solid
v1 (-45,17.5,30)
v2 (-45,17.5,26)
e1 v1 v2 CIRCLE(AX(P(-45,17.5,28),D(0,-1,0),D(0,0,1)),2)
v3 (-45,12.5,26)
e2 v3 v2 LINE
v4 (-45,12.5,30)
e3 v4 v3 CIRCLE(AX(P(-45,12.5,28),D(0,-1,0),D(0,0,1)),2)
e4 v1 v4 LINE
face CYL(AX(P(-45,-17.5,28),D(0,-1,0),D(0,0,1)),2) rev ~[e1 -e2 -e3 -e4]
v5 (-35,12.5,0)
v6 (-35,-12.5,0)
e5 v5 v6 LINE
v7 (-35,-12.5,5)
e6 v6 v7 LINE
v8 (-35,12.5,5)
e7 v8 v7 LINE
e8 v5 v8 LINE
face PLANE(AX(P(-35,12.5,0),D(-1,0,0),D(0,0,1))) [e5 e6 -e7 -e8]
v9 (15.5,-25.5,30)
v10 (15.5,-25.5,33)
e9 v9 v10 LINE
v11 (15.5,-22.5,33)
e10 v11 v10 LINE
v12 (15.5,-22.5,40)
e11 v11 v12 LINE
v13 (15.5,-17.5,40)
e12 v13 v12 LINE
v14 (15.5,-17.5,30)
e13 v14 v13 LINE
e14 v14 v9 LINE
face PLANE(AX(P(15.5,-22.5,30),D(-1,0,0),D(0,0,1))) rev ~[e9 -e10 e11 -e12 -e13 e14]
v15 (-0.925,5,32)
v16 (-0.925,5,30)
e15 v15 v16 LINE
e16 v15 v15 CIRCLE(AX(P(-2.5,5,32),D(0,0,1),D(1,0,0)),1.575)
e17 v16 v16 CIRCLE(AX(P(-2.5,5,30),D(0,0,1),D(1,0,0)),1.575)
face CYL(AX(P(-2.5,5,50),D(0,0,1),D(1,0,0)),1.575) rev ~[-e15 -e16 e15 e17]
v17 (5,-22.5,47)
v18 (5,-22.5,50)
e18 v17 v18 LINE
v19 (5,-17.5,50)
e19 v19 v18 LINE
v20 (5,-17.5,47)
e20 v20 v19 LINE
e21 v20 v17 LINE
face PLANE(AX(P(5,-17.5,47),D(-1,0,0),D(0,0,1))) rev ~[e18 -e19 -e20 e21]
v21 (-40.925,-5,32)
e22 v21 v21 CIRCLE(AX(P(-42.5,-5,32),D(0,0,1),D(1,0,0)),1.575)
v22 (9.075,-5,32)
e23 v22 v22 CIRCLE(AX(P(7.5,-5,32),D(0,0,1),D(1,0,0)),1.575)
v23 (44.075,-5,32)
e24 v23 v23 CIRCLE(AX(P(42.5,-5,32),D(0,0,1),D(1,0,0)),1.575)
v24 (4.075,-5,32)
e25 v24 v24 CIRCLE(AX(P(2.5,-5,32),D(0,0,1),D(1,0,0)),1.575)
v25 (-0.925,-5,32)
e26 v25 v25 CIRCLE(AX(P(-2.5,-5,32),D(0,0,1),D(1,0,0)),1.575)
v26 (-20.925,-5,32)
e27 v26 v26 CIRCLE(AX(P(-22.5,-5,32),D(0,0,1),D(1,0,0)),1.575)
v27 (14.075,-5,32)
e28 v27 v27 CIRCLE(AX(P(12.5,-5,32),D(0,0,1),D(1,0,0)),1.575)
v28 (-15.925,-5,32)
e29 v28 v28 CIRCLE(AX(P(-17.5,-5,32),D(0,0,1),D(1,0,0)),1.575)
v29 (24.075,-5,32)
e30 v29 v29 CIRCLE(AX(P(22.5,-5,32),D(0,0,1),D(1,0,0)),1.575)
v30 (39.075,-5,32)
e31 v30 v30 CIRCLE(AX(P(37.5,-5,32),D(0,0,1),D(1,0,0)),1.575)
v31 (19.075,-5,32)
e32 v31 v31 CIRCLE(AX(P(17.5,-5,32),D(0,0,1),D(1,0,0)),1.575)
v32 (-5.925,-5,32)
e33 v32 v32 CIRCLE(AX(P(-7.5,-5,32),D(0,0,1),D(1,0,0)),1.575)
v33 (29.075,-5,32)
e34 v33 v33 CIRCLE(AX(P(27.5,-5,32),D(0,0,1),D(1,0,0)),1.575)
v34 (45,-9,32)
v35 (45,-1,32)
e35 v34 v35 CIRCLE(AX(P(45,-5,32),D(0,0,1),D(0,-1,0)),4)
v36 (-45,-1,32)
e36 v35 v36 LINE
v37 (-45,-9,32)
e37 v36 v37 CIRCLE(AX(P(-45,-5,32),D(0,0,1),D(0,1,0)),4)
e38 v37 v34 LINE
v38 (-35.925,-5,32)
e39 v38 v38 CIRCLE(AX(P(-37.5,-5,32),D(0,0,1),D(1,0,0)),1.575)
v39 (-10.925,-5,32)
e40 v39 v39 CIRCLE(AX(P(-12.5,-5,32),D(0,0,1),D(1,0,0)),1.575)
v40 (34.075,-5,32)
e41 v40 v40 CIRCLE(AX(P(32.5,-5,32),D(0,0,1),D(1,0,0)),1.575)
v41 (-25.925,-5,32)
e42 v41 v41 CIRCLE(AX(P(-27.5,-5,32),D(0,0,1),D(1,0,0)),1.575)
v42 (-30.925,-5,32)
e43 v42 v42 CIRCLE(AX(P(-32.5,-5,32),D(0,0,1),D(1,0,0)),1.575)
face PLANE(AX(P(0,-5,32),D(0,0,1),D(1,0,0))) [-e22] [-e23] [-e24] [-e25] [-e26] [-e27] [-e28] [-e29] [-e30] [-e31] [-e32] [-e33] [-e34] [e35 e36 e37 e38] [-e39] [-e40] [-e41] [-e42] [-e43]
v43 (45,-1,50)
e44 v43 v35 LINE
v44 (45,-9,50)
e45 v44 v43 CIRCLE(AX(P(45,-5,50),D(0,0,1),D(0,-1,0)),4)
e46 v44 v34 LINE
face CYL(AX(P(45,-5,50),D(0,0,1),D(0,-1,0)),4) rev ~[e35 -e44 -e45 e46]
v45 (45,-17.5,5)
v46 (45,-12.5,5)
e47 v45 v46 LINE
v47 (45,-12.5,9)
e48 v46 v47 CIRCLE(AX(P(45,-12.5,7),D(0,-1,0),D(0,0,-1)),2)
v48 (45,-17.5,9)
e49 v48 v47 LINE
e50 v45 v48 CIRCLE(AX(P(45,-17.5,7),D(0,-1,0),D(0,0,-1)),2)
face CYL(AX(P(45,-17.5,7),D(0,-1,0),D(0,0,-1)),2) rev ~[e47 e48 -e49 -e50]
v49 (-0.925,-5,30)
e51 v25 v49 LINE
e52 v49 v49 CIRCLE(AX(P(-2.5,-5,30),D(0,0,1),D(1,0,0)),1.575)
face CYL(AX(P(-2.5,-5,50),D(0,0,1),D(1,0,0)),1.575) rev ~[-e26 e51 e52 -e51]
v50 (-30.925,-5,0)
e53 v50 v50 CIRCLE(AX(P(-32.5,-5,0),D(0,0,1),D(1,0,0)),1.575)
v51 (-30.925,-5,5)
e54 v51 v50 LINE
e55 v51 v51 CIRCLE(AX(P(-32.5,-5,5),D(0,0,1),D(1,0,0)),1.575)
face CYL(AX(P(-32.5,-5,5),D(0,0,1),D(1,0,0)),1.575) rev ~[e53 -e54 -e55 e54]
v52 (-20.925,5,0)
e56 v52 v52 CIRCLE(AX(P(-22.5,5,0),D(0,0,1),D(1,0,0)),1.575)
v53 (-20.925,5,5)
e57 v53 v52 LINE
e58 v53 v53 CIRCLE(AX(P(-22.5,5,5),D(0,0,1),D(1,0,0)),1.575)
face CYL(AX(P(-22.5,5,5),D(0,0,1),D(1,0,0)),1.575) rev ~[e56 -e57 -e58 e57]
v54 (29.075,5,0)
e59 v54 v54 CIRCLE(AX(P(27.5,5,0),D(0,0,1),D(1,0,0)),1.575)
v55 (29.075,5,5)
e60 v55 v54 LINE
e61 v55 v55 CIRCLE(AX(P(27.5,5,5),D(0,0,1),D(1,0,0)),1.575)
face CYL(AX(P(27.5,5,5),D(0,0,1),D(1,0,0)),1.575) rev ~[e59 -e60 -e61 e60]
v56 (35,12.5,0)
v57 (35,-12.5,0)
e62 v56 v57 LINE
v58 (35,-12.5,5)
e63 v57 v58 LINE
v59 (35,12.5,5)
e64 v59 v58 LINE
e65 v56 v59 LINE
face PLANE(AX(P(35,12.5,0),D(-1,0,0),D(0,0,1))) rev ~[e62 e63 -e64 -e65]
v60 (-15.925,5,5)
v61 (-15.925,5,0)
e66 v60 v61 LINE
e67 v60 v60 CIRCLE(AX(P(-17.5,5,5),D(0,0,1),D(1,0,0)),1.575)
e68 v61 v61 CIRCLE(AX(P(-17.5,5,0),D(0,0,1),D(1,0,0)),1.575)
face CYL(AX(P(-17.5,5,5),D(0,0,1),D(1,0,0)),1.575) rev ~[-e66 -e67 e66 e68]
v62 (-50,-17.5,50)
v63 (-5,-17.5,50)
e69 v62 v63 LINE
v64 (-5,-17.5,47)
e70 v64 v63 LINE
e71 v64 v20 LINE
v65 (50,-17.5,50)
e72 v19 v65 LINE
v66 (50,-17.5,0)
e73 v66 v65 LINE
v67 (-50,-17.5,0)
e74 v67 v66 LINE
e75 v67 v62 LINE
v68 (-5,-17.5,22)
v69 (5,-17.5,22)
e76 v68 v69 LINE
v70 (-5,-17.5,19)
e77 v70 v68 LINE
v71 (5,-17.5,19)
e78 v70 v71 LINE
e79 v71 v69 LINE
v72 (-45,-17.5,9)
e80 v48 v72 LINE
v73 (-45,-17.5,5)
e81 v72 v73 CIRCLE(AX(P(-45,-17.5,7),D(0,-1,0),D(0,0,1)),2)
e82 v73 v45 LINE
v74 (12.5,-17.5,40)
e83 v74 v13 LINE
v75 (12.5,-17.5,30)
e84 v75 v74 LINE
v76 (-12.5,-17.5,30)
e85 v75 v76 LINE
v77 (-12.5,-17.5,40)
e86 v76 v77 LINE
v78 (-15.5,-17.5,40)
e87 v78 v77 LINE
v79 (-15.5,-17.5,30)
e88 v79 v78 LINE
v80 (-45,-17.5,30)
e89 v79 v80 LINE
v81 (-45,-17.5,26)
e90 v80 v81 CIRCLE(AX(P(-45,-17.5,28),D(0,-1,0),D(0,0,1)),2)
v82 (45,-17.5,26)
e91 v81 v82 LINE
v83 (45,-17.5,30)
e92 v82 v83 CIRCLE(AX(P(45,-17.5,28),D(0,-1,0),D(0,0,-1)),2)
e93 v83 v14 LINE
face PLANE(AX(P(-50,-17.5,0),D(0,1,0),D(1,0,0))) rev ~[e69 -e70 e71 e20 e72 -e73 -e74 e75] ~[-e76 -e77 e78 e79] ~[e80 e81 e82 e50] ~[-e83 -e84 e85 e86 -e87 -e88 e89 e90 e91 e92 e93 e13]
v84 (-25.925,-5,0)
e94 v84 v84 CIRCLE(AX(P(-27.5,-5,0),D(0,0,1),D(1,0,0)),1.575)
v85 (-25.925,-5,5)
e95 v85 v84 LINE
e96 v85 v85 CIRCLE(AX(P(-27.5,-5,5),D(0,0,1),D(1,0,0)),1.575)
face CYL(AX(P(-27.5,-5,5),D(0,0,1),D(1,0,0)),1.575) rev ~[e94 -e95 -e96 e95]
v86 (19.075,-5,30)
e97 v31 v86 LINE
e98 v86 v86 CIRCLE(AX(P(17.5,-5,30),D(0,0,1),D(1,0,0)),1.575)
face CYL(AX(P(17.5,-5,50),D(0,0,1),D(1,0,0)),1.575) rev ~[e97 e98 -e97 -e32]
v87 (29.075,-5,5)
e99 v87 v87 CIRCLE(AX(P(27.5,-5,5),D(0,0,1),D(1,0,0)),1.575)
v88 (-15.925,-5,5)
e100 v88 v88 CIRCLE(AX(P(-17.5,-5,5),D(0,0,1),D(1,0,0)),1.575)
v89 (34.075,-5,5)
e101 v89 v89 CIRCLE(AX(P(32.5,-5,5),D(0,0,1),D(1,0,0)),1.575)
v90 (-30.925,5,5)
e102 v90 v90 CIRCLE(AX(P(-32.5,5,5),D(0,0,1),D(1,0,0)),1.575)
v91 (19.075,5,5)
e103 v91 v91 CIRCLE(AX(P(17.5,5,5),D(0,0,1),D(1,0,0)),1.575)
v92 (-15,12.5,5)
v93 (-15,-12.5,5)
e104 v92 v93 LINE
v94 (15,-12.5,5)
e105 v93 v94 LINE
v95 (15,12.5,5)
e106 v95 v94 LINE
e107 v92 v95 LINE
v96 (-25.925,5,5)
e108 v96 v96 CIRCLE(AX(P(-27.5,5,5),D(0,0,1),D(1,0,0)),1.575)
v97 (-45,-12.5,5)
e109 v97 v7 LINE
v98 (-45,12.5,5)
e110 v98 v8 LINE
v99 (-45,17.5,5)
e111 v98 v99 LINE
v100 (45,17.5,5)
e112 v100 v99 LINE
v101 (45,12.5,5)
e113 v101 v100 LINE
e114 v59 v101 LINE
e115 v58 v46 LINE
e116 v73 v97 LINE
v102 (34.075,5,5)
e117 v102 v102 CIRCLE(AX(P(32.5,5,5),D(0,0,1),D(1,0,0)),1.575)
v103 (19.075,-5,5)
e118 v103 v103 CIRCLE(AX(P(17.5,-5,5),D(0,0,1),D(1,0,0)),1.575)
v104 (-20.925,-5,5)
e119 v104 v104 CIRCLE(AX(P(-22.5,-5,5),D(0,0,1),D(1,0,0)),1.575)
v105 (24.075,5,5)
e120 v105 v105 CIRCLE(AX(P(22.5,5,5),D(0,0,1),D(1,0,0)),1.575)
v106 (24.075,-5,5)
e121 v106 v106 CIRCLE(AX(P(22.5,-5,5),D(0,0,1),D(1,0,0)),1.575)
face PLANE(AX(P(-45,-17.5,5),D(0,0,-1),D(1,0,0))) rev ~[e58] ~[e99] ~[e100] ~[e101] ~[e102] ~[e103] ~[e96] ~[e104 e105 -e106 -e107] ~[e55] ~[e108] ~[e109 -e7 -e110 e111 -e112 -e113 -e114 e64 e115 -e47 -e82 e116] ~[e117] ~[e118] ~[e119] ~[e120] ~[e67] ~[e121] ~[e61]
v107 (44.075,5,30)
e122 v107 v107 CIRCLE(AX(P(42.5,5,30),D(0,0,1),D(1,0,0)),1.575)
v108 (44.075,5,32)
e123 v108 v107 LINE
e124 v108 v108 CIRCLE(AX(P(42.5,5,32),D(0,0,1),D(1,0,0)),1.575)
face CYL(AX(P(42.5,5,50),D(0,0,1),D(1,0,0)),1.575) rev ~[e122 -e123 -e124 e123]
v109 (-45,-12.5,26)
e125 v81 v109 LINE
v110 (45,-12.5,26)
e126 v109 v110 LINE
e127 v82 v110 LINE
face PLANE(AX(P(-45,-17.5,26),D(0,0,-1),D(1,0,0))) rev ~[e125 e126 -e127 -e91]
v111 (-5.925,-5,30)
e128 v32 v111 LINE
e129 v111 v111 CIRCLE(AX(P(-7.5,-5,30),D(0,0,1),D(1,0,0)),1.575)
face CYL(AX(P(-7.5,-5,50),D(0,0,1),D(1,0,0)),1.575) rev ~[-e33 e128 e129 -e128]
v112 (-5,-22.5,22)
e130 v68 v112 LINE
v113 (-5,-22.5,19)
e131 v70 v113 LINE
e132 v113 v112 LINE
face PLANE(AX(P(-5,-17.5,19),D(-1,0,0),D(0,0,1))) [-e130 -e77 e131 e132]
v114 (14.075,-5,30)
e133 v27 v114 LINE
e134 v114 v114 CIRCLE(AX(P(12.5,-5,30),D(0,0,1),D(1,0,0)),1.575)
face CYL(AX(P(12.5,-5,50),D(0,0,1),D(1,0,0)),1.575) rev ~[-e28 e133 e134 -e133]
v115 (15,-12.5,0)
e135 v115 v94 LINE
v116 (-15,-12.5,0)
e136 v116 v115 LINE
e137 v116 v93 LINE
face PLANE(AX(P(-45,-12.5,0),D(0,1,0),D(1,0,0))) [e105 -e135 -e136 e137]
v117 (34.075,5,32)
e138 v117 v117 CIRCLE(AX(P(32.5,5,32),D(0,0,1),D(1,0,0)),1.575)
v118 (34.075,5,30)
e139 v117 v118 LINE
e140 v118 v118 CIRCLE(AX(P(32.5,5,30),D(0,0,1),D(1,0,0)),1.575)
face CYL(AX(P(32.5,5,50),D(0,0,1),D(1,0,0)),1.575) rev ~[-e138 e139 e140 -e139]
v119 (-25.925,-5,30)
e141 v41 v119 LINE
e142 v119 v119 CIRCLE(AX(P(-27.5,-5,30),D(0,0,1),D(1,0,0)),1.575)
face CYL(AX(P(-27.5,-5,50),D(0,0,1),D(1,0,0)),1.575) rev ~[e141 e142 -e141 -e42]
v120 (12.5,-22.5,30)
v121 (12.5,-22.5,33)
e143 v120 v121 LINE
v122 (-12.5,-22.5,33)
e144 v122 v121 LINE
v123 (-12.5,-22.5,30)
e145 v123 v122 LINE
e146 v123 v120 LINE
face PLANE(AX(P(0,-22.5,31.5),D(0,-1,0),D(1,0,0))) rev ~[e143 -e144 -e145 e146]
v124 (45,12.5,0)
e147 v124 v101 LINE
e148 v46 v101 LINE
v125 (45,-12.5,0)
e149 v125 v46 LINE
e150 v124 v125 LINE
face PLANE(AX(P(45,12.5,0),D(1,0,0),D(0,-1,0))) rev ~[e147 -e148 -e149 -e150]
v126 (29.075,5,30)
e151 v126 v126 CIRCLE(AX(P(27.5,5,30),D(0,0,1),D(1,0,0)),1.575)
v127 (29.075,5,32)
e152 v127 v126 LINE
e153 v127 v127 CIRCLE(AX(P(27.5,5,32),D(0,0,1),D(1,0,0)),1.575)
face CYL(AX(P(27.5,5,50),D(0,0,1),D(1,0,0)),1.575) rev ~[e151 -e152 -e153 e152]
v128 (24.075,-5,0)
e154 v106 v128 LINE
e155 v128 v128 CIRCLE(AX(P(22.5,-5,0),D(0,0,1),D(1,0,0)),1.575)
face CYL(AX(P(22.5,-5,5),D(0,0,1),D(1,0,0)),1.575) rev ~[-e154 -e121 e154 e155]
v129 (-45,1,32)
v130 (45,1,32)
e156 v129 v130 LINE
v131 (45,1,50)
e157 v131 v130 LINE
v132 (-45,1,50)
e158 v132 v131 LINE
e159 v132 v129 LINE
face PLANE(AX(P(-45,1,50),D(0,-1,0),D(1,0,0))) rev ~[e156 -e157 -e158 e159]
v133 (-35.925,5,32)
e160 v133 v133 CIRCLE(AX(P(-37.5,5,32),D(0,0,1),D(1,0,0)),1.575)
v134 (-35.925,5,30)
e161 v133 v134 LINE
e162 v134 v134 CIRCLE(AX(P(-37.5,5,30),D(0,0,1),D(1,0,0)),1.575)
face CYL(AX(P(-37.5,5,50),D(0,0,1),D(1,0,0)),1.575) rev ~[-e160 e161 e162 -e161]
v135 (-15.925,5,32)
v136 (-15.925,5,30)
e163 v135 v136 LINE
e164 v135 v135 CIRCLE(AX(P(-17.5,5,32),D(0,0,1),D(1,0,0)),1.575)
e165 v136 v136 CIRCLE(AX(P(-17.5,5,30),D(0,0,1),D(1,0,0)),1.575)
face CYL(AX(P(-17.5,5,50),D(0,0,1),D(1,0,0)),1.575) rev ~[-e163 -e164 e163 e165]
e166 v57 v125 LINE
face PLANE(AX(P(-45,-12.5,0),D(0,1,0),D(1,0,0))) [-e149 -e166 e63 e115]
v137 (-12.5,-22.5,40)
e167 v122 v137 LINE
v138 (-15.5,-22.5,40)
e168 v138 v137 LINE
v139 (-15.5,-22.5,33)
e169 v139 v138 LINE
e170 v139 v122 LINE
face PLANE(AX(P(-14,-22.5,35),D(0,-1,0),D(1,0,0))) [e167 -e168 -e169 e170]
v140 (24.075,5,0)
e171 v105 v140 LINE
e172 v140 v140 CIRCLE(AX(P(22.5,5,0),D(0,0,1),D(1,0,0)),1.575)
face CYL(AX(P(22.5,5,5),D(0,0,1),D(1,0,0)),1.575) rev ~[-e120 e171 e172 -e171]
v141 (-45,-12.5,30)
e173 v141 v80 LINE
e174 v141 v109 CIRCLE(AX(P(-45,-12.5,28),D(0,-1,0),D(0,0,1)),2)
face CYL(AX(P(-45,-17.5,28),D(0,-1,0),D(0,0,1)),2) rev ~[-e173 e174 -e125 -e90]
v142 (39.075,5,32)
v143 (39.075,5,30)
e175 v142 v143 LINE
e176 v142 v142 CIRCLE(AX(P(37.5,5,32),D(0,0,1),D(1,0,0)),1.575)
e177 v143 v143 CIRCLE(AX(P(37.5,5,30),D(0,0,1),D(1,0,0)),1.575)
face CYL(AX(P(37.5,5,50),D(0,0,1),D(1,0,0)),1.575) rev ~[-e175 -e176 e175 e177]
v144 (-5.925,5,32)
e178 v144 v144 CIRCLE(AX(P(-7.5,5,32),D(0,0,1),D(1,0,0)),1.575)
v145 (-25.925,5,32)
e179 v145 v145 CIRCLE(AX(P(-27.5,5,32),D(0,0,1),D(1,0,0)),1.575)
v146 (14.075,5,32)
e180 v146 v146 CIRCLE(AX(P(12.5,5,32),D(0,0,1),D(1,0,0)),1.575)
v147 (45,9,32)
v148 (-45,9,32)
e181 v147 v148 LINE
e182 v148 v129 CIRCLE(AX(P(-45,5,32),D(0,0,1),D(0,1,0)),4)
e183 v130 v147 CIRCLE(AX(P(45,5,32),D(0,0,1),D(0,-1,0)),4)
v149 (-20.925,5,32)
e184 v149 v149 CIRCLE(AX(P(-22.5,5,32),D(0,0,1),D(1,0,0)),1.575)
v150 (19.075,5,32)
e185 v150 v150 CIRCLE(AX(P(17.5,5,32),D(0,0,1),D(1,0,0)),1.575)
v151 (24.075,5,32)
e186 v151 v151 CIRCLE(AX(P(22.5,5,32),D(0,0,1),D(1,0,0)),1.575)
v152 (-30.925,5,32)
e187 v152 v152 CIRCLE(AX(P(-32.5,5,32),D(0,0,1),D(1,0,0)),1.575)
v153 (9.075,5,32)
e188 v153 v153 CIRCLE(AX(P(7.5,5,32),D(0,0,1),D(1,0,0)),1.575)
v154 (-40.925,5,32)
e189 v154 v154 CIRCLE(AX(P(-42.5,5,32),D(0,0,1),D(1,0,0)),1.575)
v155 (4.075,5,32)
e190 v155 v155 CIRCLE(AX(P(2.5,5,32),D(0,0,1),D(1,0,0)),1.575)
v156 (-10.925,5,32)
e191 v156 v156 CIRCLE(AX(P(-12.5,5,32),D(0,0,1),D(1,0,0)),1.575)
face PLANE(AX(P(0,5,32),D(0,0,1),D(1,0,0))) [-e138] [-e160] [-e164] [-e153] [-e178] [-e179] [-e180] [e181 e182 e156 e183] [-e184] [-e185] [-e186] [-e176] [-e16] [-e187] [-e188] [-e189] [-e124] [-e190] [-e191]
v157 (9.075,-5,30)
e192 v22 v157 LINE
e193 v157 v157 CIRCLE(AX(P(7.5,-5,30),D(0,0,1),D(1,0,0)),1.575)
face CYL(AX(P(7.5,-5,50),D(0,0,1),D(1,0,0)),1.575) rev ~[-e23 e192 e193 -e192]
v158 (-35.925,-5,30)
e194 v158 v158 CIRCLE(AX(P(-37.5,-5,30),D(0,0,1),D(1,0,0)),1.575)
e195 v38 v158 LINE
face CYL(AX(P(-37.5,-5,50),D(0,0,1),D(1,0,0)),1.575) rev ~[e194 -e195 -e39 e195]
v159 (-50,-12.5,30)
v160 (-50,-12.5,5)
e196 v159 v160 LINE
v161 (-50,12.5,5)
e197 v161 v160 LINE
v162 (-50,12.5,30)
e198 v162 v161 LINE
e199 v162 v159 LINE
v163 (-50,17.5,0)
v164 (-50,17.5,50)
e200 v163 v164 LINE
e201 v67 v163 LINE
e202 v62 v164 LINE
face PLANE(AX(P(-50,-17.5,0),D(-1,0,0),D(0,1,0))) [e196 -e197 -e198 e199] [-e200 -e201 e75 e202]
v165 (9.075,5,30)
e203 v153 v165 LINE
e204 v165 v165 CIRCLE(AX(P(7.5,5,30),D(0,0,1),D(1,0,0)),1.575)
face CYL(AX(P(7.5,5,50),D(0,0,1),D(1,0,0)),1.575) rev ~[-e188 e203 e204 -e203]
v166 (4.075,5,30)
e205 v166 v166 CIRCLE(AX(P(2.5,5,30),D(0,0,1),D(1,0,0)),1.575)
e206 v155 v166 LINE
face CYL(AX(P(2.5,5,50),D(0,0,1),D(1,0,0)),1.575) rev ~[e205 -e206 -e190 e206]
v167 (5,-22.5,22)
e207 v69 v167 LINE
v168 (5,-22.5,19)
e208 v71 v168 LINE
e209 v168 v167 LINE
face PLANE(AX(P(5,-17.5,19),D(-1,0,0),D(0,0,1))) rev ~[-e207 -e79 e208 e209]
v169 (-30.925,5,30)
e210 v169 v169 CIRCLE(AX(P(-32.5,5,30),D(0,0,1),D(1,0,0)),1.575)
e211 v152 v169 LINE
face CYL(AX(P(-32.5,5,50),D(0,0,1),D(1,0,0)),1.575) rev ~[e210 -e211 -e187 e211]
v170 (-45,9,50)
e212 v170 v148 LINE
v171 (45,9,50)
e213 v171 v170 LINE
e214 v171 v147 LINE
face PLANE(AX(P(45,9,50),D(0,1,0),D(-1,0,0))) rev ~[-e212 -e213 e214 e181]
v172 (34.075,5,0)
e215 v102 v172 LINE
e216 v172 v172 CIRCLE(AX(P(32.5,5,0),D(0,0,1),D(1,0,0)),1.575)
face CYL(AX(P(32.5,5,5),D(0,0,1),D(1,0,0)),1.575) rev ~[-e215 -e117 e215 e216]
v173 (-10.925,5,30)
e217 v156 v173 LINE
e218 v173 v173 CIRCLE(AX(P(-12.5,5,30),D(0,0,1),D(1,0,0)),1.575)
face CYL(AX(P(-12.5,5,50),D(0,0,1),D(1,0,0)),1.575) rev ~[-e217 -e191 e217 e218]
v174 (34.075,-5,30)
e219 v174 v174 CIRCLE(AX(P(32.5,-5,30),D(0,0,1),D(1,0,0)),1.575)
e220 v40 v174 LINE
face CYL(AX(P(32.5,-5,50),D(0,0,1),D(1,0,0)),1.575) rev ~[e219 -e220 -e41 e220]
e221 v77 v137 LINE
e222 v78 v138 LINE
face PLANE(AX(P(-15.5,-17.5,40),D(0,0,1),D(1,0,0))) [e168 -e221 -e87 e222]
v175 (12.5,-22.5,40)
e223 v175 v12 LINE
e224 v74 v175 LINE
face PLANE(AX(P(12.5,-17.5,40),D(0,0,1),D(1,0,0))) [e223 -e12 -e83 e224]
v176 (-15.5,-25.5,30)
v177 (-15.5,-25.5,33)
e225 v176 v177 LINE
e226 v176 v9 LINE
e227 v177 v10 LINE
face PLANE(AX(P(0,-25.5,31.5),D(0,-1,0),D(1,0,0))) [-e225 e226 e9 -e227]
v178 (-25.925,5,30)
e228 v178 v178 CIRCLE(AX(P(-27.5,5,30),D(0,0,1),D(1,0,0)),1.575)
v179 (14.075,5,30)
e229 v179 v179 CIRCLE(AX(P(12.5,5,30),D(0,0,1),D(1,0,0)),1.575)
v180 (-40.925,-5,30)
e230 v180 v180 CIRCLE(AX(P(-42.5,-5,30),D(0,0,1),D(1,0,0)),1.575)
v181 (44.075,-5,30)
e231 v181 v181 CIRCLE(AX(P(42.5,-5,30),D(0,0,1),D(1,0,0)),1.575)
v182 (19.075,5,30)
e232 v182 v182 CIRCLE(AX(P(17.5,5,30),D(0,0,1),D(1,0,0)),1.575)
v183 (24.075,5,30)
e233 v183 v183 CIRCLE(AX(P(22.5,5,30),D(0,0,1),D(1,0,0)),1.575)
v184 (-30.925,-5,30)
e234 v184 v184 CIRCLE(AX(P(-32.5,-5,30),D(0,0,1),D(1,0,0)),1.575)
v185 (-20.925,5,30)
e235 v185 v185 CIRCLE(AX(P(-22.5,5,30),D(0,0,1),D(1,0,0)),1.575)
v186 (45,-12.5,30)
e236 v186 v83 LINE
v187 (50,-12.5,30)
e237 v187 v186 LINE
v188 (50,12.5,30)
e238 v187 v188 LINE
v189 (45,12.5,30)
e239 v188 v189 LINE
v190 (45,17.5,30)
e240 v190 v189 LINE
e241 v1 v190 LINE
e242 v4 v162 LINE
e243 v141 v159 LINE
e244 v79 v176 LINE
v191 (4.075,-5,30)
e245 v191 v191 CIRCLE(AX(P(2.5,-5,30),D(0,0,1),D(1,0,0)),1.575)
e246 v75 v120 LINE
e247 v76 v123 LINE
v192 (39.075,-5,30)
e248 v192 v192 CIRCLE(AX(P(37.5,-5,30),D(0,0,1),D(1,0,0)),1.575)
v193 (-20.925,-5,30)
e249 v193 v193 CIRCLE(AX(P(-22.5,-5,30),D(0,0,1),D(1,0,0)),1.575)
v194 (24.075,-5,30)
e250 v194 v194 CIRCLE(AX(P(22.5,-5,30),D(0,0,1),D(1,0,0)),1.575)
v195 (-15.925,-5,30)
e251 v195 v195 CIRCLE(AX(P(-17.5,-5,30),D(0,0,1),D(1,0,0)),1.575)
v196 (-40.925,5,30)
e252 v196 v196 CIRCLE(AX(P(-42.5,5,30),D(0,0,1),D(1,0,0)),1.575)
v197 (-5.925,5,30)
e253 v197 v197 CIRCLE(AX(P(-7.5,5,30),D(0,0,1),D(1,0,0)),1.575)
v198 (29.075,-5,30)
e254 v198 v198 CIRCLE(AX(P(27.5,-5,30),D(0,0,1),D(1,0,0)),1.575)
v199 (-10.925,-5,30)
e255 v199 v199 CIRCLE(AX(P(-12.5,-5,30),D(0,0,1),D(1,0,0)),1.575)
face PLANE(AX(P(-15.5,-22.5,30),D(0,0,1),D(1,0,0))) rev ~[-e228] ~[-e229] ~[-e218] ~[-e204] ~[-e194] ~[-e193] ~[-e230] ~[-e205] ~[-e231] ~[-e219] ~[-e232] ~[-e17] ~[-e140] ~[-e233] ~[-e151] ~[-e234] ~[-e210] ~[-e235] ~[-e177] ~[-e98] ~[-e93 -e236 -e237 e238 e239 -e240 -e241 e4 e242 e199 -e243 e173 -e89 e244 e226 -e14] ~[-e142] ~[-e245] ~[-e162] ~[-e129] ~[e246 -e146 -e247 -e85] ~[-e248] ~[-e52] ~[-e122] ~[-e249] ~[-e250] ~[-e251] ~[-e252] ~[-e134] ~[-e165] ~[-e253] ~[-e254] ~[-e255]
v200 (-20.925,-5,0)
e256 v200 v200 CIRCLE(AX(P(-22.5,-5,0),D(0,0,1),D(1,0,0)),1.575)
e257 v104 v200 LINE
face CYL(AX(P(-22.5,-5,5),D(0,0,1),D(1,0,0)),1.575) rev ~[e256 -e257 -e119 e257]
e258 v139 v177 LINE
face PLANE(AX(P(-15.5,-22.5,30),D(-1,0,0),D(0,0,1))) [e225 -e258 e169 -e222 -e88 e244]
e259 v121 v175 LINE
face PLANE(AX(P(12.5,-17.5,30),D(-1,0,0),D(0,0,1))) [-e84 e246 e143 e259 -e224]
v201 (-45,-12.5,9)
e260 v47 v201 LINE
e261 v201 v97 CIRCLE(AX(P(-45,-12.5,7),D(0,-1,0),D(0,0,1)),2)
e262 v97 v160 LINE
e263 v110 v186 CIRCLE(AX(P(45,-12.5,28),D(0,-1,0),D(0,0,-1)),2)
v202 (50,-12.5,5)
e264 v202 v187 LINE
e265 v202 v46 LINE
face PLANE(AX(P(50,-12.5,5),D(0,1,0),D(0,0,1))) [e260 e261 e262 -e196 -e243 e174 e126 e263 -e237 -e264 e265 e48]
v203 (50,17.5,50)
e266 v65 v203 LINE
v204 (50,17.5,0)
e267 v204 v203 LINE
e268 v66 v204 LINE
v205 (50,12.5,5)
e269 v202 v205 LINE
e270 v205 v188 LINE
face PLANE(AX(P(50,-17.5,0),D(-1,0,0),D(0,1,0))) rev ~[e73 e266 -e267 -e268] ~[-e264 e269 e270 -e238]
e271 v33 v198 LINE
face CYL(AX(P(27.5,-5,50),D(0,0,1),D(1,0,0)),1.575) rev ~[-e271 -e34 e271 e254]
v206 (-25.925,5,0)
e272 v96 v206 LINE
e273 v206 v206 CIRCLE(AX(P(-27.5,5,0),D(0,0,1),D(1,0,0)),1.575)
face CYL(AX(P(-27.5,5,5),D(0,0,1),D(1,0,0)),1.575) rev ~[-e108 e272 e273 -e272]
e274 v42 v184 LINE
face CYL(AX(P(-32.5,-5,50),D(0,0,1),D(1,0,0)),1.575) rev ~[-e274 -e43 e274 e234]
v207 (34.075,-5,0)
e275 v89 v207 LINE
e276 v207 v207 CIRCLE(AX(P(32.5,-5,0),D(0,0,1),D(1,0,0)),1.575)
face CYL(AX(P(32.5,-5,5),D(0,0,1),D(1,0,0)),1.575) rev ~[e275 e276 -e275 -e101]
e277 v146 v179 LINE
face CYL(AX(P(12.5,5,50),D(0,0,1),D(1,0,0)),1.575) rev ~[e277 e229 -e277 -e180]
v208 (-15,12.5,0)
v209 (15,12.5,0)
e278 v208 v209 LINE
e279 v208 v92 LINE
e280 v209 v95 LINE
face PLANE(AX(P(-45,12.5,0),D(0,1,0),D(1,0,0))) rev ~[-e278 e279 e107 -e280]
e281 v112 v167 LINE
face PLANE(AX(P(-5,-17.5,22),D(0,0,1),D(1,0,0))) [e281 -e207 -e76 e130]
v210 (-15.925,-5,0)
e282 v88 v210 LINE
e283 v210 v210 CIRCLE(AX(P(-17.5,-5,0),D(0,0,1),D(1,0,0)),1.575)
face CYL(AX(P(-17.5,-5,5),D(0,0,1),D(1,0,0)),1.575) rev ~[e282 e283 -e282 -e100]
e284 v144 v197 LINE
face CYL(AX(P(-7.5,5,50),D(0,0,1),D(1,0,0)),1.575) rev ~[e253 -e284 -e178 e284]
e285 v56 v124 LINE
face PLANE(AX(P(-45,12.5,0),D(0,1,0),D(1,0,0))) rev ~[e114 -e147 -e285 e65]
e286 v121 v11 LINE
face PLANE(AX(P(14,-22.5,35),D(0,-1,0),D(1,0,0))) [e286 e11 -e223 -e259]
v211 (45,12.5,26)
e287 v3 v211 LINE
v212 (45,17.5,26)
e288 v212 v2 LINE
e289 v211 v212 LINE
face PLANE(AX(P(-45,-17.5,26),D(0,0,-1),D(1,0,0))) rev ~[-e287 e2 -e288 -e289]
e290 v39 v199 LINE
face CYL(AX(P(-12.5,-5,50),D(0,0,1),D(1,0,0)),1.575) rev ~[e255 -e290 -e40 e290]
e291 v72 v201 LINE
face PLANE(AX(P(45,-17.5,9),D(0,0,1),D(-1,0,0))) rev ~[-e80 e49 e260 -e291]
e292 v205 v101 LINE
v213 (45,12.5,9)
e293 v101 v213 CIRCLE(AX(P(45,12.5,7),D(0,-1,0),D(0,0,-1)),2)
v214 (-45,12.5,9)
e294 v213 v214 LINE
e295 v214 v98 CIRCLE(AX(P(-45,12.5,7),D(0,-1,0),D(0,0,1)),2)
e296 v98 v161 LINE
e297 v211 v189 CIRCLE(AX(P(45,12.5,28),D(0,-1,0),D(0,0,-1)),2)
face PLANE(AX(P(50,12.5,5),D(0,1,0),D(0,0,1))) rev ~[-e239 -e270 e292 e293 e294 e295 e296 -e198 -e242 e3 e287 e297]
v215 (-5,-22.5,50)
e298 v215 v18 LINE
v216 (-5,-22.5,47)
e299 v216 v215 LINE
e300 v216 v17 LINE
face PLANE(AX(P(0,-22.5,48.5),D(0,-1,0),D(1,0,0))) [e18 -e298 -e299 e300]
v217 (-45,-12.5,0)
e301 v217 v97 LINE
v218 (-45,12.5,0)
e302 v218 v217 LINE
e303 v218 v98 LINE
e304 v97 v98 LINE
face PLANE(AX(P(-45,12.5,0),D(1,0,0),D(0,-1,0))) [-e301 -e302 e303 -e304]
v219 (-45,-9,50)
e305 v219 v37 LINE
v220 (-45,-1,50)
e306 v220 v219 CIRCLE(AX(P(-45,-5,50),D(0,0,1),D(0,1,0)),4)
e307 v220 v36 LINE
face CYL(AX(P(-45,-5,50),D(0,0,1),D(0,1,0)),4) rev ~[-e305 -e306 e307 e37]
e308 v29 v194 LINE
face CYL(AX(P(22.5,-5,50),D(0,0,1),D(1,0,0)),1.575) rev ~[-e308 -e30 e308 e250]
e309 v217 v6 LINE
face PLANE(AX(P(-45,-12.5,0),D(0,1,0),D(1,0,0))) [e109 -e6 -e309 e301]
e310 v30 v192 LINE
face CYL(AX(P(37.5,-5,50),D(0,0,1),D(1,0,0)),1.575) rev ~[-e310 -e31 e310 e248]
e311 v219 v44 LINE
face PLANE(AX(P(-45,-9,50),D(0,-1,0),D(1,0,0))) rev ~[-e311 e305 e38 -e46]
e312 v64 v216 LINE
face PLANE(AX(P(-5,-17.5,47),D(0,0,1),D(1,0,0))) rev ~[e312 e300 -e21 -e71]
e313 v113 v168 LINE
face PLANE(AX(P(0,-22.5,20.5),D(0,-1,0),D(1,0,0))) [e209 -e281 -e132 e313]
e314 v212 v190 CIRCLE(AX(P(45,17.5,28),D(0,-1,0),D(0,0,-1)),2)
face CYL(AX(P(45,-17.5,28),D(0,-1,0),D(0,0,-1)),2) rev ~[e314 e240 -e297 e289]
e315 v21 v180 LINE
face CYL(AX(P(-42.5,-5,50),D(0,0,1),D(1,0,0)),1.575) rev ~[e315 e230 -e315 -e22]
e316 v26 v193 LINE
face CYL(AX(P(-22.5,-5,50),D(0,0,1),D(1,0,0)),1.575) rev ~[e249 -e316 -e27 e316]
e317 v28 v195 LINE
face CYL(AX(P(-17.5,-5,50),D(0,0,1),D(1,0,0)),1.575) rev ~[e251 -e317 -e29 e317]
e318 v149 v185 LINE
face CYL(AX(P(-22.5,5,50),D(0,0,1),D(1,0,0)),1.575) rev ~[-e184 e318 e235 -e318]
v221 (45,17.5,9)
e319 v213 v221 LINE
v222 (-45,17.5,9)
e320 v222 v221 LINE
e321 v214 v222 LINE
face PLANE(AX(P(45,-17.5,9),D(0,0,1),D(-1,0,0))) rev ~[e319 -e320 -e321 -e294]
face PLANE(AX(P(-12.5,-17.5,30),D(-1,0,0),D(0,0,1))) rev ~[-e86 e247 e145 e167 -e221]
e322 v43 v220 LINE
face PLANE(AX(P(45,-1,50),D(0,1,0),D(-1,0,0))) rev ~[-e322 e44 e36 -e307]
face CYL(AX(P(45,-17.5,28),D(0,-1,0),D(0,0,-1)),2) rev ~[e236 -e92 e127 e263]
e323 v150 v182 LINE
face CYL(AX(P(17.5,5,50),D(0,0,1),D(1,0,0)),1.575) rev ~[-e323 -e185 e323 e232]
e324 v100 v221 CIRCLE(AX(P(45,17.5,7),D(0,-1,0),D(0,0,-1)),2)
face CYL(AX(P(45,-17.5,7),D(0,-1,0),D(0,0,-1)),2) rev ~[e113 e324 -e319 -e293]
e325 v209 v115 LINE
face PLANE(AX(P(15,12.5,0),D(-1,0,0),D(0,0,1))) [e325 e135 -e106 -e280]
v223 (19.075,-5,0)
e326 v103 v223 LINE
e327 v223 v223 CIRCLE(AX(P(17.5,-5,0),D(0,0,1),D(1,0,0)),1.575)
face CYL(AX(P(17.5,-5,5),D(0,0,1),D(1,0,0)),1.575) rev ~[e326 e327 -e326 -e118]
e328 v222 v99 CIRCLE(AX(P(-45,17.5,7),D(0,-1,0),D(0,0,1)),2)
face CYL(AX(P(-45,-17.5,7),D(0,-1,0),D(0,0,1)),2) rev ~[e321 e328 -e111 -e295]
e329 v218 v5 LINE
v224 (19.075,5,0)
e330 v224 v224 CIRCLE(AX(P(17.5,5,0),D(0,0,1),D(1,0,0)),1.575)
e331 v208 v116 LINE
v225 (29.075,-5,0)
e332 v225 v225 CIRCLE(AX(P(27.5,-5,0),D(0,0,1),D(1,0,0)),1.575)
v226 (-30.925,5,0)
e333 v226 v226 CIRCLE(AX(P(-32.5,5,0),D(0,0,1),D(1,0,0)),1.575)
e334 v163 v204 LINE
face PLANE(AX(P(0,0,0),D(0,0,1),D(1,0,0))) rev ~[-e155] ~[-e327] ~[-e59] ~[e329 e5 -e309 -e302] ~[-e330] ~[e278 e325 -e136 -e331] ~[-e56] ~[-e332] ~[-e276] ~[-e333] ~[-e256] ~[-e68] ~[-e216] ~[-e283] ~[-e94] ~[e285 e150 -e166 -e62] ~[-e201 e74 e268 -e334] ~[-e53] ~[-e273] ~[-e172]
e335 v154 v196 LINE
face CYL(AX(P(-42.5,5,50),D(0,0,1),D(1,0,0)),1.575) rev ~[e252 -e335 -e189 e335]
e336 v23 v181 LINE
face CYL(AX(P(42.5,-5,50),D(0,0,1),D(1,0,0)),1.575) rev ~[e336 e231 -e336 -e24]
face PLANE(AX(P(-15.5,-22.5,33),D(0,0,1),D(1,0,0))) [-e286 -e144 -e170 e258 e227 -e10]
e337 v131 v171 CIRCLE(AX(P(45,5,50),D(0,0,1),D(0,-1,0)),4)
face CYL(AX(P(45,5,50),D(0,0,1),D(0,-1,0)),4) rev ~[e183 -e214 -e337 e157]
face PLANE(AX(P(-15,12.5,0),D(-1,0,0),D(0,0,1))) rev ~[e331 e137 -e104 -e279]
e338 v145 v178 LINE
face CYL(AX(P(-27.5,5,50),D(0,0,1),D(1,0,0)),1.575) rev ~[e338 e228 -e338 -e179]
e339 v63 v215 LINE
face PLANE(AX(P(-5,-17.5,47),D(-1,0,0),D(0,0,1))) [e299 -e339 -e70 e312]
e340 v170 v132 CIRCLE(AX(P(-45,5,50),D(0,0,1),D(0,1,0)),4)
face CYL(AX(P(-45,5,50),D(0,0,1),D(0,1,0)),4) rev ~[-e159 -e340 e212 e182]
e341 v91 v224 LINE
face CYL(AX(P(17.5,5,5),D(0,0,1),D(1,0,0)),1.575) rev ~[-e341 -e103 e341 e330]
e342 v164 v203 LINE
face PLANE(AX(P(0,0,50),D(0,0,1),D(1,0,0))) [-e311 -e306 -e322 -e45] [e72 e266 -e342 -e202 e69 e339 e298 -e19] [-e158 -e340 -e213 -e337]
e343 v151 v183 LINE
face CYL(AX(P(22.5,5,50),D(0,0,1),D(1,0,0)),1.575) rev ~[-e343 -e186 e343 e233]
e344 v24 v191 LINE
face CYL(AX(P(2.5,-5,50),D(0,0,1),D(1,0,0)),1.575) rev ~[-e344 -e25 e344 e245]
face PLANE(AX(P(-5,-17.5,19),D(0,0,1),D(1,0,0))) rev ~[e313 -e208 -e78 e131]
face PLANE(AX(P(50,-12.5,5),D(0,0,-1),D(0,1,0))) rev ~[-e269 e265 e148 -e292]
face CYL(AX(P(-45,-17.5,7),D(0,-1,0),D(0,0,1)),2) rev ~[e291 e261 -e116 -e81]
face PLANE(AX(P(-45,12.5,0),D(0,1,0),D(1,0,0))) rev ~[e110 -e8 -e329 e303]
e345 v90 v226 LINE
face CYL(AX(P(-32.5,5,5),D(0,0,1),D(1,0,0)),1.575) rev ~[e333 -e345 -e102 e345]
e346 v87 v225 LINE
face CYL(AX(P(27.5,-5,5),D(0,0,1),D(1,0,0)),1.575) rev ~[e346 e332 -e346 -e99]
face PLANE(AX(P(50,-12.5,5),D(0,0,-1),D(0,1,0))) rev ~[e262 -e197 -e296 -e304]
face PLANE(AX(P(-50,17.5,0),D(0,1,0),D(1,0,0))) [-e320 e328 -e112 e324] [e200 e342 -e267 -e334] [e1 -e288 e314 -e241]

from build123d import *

# Parameters (mm, degrees)
F0_W      = 100
F0_H      = 35
F1_DEPTH  = 50
F3_DEPTH  = 35.001
F4_W      = 90
F4_H      = 25
F5_DEPTH  = 30
F6_R      = 1.575
F7_DEPTH  = 50.001
F9_DEPTH  = 18
F10_W     = 20
F10_H     = 5
F11_DEPTH = 25
F12_W     = 25
F12_H     = 25
F13_DEPTH = 100.001
F14_W     = 3
F14_H     = 10
F14_W_2   = 10
F14_H_2   = 3
F15_DEPTH = 5
F16_R     = 1.575
F17_DEPTH = 5.001
F18_W     = 31
F18_H     = 3
F19_DEPTH = 3


with BuildPart() as f1:
    # F0 (on Top) → F1 (new body)
    with BuildSketch(Plane.XY):
        Rectangle(F0_W, F0_H)
    extrude(amount=F1_DEPTH)

    # F2 (on face) → F3 (cut, through all)
    with BuildSketch(Plane.XZ.offset(17.5)):
        with BuildLine():
            Line((0, 9), (-45, 9))
            ThreePointArc((-45, 9), (-47, 7), (-45, 5))
            Line((-45, 5), (0, 5))
            Line((0, 5), (45, 5))
            ThreePointArc((45, 5), (47, 7), (45, 9))
            Line((45, 9), (0, 9))
        make_face()
        with BuildLine():
            Line((0, 26), (45, 26))
            ThreePointArc((45, 26), (47, 28), (45, 30))
            Line((45, 30), (0, 30))
            Line((0, 30), (-45, 30))
            ThreePointArc((-45, 30), (-47, 28), (-45, 26))
            Line((-45, 26), (0, 26))
        make_face()
    extrude(amount=-F3_DEPTH, mode=Mode.SUBTRACT)

    # F4 (on face) → F5 (cut)
    with BuildSketch(Plane(origin=(0, 0, 0), x_dir=(1, 0, 0), z_dir=(0, 0, -1))):
        Rectangle(F4_W, F4_H)
    extrude(amount=-F5_DEPTH, mode=Mode.SUBTRACT)

    # F6 (on face) → F7 (cut, through all)
    with BuildSketch(Plane.XY.offset(50)):
        with Locations((-42.5, 5)):
            Circle(F6_R)
        with Locations((-42.5, -5)):
            Circle(F6_R)
        with Locations((-37.5, 5)):
            Circle(F6_R)
        with Locations((-37.5, -5)):
            Circle(F6_R)
        with Locations((-32.5, 5)):
            Circle(F6_R)
        with Locations((-32.5, -5)):
            Circle(F6_R)
        with Locations((-27.5, 5)):
            Circle(F6_R)
        with Locations((-27.5, -5)):
            Circle(F6_R)
        with Locations((-22.5, 5)):
            Circle(F6_R)
        with Locations((-22.5, -5)):
            Circle(F6_R)
        with Locations((-17.5, 5)):
            Circle(F6_R)
        with Locations((-17.5, -5)):
            Circle(F6_R)
        with Locations((-12.5, 5)):
            Circle(F6_R)
        with Locations((-12.5, -5)):
            Circle(F6_R)
        with Locations((-7.5, 5)):
            Circle(F6_R)
        with Locations((-7.5, -5)):
            Circle(F6_R)
        with Locations((-2.5, 5)):
            Circle(F6_R)
        with Locations((-2.5, -5)):
            Circle(F6_R)
        with Locations((2.5, 5)):
            Circle(F6_R)
        with Locations((2.5, -5)):
            Circle(F6_R)
        with Locations((7.5, 5)):
            Circle(F6_R)
        with Locations((7.5, -5)):
            Circle(F6_R)
        with Locations((12.5, 5)):
            Circle(F6_R)
        with Locations((12.5, -5)):
            Circle(F6_R)
        with Locations((17.5, 5)):
            Circle(F6_R)
        with Locations((17.5, -5)):
            Circle(F6_R)
        with Locations((22.5, 5)):
            Circle(F6_R)
        with Locations((22.5, -5)):
            Circle(F6_R)
        with Locations((27.5, 5)):
            Circle(F6_R)
        with Locations((27.5, -5)):
            Circle(F6_R)
        with Locations((32.5, 5)):
            Circle(F6_R)
        with Locations((32.5, -5)):
            Circle(F6_R)
        with Locations((37.5, 5)):
            Circle(F6_R)
        with Locations((37.5, -5)):
            Circle(F6_R)
        with Locations((42.5, 5)):
            Circle(F6_R)
        with Locations((42.5, -5)):
            Circle(F6_R)
    extrude(amount=-F7_DEPTH, mode=Mode.SUBTRACT)

    # F8 (on face) → F9 (cut)
    with BuildSketch(Plane.XY.offset(50)):
        with BuildLine():
            Line((45, 9), (-45, 9))
            ThreePointArc((-45, 9), (-49, 5), (-45, 1))
            Line((-45, 1), (45, 1))
            ThreePointArc((45, 1), (49, 5), (45, 9))
        make_face()
        with BuildLine():
            ThreePointArc((-45, -1), (-49, -5), (-45, -9))
            Line((-45, -9), (45, -9))
            ThreePointArc((45, -9), (49, -5), (45, -1))
            Line((45, -1), (-45, -1))
        make_face()
    extrude(amount=-F9_DEPTH, mode=Mode.SUBTRACT)

    # F10 (on face) → F11 (join)
    with BuildSketch(Plane.XZ.offset(-12.5)):
        with Locations((-25, 2.5)):
            Rectangle(F10_W, F10_H)
        with Locations((25, 2.5)):
            Rectangle(F10_W, F10_H)
    extrude(amount=F11_DEPTH)

    # F12 (on face) → F13 (cut, through all)
    with BuildSketch(Plane.YZ.offset(50)):
        with Locations((0, 17.5)):
            Rectangle(F12_W, F12_H)
    extrude(amount=-F13_DEPTH, mode=Mode.SUBTRACT)

    # F14 (on face) → F15 (join)
    with BuildSketch(Plane.XZ.offset(17.5)):
        with Locations((-14, 35)):
            Rectangle(F14_W, F14_H)
        with Locations((14, 35)):
            Rectangle(F14_W, F14_H)
        with Locations((0, 48.5)):
            Rectangle(F14_W_2, F14_H_2)
        with Locations((0, 20.5)):
            Rectangle(F14_W_2, F14_H_2)
    extrude(amount=F15_DEPTH)

    # F16 (on face) → F17 (cut, through all)
    with BuildSketch(Plane.XY.offset(5)):
        with Locations((-32.5, 5)):
            Circle(F16_R)
        with Locations((-27.5, 5)):
            Circle(F16_R)
        with Locations((-22.5, 5)):
            Circle(F16_R)
        with Locations((-17.5, 5)):
            Circle(F16_R)
        with Locations((-32.5, -5)):
            Circle(F16_R)
        with Locations((-22.5, -5)):
            Circle(F16_R)
        with Locations((-27.5, -5)):
            Circle(F16_R)
        with Locations((-17.5, -5)):
            Circle(F16_R)
        with Locations((17.5, 5)):
            Circle(F16_R)
        with Locations((17.5, -5)):
            Circle(F16_R)
        with Locations((22.5, 5)):
            Circle(F16_R)
        with Locations((22.5, -5)):
            Circle(F16_R)
        with Locations((27.5, 5)):
            Circle(F16_R)
        with Locations((27.5, -5)):
            Circle(F16_R)
        with Locations((32.5, 5)):
            Circle(F16_R)
        with Locations((32.5, -5)):
            Circle(F16_R)
    extrude(amount=-F17_DEPTH, mode=Mode.SUBTRACT)

    # F18 (on face) → F19 (join)
    with BuildSketch(Plane.XZ.offset(22.5)):
        with Locations((0, 31.5)):
            Rectangle(F18_W, F18_H)
    extrude(amount=F19_DEPTH)


solid = f1.part
